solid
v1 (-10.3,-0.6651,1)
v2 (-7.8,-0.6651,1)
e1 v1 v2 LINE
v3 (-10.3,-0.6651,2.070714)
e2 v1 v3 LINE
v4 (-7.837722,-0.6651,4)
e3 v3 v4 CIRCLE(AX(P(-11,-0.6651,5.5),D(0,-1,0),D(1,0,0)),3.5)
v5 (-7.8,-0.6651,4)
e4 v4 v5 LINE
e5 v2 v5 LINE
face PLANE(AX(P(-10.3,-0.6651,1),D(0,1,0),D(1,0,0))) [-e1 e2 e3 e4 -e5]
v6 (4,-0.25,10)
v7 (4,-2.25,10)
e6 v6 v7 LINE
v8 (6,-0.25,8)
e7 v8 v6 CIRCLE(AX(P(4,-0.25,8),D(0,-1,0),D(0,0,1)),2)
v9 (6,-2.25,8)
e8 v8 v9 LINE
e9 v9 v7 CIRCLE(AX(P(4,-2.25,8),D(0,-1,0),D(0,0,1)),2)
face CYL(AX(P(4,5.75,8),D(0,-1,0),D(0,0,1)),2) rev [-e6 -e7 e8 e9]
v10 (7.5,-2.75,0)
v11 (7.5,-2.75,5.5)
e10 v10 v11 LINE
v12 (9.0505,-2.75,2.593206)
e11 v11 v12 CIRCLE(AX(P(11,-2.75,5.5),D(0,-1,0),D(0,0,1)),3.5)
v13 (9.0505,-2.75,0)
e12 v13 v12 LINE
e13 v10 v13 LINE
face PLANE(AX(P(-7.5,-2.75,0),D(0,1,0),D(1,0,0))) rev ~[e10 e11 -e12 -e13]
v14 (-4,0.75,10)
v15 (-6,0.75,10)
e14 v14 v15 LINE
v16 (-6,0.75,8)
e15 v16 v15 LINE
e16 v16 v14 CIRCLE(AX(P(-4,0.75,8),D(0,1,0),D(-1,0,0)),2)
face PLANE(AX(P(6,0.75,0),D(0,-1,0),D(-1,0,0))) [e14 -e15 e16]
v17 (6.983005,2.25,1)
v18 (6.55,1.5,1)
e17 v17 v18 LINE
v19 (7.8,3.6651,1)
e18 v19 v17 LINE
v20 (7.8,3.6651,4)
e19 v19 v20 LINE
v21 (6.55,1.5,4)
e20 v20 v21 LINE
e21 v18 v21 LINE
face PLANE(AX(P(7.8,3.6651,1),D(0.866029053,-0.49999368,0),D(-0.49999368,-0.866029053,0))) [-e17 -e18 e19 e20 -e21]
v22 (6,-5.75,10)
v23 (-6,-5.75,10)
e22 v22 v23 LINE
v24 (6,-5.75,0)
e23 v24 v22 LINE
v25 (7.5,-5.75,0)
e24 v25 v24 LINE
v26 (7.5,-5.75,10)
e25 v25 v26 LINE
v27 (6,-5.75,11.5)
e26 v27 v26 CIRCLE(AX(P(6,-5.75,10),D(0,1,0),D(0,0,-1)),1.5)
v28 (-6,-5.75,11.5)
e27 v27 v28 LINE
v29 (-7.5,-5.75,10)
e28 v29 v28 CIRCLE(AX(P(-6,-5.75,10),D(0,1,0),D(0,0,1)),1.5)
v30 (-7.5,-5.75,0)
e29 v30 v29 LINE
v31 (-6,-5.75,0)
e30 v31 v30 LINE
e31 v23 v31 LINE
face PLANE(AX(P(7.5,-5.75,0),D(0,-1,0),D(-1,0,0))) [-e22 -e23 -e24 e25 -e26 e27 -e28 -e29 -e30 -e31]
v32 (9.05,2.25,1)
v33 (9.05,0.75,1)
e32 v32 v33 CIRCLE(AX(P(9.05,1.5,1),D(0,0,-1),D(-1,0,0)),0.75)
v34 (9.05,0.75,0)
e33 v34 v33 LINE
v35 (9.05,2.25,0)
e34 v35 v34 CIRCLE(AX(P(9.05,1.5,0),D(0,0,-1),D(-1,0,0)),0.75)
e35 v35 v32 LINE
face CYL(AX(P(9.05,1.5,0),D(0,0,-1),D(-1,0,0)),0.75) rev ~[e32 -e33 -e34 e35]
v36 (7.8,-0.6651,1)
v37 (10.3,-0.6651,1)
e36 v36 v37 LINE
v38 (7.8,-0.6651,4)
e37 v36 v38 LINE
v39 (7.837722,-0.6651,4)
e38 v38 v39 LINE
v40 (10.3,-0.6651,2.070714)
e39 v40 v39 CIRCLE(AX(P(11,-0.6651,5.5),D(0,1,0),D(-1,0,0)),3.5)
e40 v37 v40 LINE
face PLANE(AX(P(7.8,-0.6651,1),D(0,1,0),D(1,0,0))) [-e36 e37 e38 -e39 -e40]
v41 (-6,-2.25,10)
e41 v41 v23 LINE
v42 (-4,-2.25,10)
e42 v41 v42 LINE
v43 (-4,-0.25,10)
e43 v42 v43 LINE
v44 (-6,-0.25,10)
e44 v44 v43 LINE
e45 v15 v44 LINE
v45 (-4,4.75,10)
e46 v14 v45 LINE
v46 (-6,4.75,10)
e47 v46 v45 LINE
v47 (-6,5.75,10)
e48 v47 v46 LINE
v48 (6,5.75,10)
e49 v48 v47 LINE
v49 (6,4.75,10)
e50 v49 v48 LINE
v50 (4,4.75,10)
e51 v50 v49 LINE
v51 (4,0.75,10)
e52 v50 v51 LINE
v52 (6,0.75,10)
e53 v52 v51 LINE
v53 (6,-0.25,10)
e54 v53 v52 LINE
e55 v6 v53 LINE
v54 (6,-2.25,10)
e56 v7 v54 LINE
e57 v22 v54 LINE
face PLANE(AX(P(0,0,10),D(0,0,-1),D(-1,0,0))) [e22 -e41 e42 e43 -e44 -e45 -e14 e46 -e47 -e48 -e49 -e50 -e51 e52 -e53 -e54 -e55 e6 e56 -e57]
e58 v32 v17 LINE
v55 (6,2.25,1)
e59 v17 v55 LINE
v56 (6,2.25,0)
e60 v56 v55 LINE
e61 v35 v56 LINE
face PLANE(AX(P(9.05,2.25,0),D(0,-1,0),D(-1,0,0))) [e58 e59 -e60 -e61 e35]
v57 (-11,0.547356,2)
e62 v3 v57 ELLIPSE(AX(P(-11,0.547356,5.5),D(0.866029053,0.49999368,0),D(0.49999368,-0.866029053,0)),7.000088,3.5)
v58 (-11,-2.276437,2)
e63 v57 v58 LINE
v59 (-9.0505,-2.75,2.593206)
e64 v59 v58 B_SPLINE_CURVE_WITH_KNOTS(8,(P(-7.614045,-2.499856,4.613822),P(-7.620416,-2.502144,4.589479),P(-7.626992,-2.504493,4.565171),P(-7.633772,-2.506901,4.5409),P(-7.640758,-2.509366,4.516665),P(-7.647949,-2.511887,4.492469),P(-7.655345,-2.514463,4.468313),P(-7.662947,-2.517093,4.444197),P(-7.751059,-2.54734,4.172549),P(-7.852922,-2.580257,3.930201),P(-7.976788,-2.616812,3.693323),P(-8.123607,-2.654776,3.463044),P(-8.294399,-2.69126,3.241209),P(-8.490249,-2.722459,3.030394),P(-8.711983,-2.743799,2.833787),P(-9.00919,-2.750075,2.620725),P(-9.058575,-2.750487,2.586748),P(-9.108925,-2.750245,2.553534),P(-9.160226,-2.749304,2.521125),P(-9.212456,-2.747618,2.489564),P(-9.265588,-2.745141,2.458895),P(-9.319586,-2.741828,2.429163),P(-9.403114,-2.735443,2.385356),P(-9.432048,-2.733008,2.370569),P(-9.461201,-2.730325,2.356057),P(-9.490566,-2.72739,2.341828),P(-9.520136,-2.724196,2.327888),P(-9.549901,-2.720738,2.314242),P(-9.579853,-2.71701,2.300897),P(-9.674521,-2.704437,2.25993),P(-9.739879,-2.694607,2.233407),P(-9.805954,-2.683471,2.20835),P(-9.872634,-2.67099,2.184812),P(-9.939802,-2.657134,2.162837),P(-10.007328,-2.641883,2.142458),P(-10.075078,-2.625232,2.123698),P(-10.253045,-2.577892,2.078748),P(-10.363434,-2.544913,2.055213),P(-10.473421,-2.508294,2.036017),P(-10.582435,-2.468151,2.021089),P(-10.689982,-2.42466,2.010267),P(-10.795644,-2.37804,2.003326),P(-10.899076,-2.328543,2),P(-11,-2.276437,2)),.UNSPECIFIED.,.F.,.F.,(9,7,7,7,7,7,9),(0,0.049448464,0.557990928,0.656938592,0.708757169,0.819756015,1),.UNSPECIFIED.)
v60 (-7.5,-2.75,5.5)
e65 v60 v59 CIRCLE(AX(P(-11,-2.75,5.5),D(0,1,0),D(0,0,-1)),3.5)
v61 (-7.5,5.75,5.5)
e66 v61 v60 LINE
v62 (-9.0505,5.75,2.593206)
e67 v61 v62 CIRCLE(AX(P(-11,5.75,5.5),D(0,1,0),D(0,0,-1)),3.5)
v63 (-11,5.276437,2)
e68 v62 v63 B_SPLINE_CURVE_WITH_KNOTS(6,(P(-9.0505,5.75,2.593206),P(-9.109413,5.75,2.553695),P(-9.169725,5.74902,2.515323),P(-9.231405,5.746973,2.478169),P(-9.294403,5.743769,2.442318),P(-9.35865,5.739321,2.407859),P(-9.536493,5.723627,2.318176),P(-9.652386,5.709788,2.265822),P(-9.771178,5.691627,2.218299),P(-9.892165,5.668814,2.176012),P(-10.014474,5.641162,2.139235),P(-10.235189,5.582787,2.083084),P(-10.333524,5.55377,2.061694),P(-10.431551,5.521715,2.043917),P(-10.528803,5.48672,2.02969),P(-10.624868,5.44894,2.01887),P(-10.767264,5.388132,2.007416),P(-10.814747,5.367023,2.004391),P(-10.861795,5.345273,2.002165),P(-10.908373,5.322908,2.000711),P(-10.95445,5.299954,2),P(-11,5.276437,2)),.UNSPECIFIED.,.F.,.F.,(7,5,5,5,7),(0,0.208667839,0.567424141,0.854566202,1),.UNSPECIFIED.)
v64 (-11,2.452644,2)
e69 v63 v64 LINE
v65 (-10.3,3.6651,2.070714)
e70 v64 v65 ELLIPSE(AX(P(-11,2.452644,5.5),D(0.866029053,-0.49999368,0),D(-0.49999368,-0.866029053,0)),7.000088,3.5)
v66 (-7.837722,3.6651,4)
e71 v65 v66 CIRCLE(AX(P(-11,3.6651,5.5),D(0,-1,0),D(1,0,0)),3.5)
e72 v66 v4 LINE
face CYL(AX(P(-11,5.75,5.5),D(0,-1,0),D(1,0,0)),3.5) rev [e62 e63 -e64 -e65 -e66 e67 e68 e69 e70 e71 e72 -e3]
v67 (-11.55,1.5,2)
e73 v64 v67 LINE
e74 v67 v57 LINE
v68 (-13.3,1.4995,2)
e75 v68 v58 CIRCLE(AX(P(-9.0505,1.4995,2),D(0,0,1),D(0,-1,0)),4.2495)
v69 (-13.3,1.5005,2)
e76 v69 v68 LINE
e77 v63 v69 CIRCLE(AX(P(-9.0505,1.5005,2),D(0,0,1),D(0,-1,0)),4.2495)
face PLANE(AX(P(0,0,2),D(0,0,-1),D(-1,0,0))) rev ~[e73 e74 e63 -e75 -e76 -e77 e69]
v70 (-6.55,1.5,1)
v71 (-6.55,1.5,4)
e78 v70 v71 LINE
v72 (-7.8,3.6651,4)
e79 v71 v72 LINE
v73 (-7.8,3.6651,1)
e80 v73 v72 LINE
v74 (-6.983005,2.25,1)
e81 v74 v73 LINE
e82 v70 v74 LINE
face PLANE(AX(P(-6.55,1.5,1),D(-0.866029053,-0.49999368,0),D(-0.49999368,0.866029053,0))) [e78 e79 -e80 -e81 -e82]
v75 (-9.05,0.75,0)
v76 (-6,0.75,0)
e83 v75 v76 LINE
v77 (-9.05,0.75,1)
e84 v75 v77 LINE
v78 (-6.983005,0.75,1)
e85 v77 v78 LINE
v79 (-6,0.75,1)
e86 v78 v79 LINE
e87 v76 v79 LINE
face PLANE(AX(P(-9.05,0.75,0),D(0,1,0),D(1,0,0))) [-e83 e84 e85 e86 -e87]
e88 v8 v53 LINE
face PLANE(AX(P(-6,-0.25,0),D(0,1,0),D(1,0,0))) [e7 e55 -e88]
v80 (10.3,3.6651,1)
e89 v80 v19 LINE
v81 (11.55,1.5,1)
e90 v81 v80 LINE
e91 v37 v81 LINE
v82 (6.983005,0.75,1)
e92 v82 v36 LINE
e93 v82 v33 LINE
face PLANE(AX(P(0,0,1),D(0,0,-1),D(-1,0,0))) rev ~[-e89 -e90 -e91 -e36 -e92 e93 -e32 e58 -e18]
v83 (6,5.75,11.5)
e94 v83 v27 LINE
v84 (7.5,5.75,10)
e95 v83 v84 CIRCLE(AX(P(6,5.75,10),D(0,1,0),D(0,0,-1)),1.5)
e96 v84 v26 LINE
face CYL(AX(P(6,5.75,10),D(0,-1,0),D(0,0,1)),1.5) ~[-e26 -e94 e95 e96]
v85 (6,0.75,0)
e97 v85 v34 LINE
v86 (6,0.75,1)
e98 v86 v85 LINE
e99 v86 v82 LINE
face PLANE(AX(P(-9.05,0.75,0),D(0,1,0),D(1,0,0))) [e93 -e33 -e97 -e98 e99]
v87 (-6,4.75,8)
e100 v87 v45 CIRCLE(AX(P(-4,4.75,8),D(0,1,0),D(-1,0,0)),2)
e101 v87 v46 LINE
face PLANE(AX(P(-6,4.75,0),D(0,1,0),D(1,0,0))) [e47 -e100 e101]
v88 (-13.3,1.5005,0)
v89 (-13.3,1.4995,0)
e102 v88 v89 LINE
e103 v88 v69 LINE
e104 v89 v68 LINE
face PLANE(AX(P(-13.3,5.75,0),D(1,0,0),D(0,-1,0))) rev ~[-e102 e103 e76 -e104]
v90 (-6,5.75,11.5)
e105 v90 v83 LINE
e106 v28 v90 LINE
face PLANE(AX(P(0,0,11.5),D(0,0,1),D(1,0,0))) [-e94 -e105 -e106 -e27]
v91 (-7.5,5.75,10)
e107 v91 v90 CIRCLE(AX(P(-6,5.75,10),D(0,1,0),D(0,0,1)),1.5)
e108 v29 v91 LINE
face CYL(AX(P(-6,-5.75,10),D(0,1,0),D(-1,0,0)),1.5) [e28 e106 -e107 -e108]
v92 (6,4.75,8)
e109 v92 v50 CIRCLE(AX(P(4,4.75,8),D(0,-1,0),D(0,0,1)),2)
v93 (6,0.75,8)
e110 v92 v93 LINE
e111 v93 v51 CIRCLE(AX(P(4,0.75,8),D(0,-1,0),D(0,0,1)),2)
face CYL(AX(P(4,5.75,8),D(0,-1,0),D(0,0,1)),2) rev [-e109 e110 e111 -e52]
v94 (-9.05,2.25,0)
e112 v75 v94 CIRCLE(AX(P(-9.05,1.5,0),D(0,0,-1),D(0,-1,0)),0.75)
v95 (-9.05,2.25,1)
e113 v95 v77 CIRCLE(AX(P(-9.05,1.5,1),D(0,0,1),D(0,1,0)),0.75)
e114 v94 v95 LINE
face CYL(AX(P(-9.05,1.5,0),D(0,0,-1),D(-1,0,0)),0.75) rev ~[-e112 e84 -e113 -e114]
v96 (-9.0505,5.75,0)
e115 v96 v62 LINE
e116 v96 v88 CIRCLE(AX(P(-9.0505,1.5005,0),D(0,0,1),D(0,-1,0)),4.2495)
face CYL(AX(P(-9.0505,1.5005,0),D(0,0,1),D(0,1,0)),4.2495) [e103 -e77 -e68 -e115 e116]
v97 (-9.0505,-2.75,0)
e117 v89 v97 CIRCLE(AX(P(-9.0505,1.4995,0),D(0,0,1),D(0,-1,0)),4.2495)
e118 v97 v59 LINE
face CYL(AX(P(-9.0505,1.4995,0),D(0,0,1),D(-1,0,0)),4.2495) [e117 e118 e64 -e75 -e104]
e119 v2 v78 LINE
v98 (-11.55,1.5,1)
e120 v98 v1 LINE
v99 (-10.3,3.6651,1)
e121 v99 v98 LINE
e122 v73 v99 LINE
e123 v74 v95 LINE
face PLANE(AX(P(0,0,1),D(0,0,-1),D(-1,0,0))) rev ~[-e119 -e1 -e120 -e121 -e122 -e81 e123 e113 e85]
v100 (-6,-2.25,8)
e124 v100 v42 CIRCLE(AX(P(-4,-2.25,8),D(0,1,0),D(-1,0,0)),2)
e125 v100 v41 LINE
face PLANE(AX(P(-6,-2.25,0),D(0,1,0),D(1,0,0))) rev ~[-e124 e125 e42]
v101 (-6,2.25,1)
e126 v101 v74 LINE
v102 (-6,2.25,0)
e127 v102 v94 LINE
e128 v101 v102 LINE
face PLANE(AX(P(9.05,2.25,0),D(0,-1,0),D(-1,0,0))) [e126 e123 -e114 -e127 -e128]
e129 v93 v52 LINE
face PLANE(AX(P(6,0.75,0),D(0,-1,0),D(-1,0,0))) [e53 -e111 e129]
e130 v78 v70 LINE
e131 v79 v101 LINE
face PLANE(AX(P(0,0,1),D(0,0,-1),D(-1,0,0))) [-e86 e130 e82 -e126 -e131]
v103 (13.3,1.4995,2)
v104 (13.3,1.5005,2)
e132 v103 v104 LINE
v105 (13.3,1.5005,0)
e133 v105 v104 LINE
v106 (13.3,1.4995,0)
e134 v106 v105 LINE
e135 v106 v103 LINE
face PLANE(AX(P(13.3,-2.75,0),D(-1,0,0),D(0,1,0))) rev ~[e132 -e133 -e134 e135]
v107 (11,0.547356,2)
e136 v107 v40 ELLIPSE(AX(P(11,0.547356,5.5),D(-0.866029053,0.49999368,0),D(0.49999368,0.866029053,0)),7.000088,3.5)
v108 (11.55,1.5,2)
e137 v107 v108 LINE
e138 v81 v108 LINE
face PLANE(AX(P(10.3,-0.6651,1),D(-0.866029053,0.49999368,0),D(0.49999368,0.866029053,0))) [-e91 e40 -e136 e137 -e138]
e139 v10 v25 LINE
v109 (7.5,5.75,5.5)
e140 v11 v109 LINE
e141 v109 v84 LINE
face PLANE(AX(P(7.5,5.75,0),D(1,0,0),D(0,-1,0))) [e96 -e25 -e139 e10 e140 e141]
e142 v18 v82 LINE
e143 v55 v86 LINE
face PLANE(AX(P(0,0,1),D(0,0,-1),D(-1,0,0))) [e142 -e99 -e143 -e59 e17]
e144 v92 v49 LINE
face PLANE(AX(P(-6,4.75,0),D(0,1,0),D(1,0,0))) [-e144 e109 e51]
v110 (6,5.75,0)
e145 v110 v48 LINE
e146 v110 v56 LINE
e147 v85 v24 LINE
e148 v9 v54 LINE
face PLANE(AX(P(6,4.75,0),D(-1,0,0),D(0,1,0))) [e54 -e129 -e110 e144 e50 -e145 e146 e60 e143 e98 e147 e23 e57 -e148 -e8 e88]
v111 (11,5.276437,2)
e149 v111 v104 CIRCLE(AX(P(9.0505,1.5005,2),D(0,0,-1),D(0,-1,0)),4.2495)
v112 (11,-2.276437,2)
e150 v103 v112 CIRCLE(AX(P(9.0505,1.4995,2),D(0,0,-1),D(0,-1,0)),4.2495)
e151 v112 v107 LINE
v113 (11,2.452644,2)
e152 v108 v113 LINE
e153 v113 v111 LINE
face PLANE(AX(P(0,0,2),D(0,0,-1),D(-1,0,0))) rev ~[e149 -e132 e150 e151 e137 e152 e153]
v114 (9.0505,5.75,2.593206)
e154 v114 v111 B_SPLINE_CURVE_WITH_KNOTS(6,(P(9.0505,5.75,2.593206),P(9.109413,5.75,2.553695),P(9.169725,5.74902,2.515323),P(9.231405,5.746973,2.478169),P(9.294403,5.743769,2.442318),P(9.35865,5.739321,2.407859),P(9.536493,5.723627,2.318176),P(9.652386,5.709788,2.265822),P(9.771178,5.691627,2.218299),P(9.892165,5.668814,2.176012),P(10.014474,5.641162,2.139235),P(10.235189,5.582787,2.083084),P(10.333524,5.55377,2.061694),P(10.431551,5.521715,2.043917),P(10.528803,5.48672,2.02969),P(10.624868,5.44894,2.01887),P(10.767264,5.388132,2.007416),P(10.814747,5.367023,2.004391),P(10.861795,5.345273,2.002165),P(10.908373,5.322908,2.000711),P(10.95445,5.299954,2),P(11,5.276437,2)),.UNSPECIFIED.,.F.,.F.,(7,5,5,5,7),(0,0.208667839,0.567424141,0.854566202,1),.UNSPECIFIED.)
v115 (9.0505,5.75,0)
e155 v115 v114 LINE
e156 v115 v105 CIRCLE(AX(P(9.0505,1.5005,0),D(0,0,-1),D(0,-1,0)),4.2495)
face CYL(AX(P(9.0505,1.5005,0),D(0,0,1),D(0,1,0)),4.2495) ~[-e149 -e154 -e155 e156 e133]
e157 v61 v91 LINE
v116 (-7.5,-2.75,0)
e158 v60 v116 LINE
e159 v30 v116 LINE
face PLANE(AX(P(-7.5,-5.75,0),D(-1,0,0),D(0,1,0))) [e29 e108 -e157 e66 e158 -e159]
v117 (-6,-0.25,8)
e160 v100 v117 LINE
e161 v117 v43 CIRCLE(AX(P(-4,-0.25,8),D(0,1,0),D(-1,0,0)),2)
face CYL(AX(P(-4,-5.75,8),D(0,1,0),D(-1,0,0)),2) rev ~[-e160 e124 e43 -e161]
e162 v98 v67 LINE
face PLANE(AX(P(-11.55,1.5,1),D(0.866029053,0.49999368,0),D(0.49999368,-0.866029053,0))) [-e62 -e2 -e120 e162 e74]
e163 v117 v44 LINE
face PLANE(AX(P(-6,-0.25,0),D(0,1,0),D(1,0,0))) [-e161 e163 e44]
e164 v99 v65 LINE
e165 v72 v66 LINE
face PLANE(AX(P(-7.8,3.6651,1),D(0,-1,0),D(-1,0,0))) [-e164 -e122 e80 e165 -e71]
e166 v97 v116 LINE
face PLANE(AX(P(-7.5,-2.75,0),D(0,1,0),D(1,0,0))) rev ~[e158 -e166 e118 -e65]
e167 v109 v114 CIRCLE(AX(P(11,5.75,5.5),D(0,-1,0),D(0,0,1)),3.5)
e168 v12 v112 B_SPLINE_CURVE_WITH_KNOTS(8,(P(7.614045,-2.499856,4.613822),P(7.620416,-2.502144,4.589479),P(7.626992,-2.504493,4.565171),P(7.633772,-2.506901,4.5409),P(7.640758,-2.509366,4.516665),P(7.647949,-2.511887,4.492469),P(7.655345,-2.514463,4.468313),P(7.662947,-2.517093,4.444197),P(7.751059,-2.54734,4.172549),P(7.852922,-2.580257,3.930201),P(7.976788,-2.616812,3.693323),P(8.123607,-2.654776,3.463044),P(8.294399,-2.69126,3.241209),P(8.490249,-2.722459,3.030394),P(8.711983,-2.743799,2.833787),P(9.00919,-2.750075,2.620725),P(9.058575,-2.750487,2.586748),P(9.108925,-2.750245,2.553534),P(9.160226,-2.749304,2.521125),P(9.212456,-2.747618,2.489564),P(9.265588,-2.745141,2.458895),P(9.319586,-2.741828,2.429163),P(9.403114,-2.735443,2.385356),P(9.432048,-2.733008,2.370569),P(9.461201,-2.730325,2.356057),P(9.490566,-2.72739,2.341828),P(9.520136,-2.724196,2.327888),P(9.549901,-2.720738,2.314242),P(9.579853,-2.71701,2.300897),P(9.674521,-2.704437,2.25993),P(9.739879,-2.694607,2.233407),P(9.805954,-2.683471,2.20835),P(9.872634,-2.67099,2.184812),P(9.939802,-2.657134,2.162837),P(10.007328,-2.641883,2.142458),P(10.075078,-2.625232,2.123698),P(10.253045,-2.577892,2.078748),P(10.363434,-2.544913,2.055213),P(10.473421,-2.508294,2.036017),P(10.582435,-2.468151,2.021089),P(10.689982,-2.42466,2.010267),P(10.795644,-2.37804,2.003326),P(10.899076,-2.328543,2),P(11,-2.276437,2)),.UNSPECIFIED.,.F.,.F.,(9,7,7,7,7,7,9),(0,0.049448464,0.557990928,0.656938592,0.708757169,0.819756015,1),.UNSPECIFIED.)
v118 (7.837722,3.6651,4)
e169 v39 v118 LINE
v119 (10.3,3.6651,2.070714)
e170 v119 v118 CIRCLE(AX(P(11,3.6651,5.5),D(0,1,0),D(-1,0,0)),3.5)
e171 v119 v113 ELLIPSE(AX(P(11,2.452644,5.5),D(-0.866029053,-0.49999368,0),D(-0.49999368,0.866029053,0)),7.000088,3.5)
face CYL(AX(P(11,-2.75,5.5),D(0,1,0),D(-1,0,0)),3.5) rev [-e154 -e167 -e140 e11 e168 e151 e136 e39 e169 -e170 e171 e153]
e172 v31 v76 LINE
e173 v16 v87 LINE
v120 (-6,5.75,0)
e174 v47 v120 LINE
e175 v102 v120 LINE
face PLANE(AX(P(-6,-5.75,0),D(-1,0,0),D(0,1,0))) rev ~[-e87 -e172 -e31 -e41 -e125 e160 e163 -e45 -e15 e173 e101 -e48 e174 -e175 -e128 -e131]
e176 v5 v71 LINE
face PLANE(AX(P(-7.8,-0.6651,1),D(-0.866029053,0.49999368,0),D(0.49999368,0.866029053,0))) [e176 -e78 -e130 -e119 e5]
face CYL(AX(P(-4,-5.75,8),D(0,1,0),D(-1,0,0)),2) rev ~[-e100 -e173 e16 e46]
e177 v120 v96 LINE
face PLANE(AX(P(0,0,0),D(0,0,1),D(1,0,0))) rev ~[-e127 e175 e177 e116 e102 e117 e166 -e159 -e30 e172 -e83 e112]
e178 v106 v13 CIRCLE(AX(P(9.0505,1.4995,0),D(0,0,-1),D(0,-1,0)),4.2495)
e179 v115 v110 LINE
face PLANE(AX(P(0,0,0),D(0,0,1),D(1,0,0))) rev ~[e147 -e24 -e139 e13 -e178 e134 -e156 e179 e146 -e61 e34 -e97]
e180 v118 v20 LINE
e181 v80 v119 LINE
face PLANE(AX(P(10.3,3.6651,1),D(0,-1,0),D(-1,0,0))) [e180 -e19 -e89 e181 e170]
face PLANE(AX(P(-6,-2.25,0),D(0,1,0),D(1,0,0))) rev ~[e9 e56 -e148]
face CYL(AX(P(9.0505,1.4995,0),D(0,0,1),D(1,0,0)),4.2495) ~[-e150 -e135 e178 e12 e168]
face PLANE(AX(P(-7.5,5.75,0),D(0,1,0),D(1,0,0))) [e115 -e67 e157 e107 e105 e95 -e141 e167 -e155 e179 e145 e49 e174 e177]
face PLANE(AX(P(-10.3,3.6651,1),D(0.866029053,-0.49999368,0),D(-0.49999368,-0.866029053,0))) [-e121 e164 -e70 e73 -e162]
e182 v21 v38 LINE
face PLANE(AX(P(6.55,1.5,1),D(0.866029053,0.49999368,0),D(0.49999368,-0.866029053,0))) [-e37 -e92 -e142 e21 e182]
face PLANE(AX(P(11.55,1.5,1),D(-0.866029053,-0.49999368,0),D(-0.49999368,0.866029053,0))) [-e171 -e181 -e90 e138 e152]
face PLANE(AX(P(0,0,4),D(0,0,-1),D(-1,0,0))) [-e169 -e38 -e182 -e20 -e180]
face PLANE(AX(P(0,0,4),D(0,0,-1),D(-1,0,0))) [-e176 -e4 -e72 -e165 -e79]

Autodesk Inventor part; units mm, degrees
ref_plane "YZ Plane" through (0, 0, 0) normal (1, 0, 0) x (0, 1, 0)
ref_plane "XZ Plane" through (0, 0, 0) normal (0, 1, 0) x (-1, 0, 0)
sketch "Szkic1" plane through (0, 0, 0) normal (0, 0, 1) x (1, 0, 0)
  line L0 (-7.5, 5.75) -> (7.5, 5.75)
  line L1 (7.5, 5.75) -> (7.5, -5.75)
  line L2 (7.5, -5.75) -> (-7.5, -5.75)
  line L3 (-7.5, -5.75) -> (-7.5, 5.75)
  point P0 (0, 0)
  point P1 (0, 5.75)
  point P2 (-7.5, 0)
  dimension "d0" = 15
  dimension "d1" = 11.5
extrude "Wyciągnięcie proste1" add sketch "Szkic1" along normal blind 11.5
sketch "Szkic2" plane through (0, 0, 0) normal (0, 0, -1) x (-1, 0, 0)
  line L0 (7.5, 5.75) -> (-7.5, 5.75) projected
  line L1 (-7.5, 5.75) -> (-7.5, -5.75) projected
  line L2 (7.5, -5.75) -> (7.5, 5.75) projected
  line L3 (-13.3, 5.75) -> (13.3, 5.75)
  line L4 (13.3, 5.75) -> (13.3, -2.75)
  line L5 (13.3, -2.75) -> (-13.3, -2.75)
  line L6 (-13.3, -2.75) -> (-13.3, 5.75)
  point P0 (0, 0)
  dimension "d4" = 8.5
  dimension "d5" = 5.8
  dimension "d6" = 5.8
extrude "Wyciągnięcie proste2" add sketch "Szkic2" against normal blind 2
fillet "Zaokrąglenie1" radius 4.25 4 edges at (-13.3, -2.75, 1) (-13.3, 5.75, 1) (13.3, -2.75, 1) (13.3, 5.75, 1)
fillet "Zaokrąglenie2" radius 1.5 2 edges at (-7.5, 0, 11.5) (7.5, 0, 11.5)
fillet "Zaokrąglenie3" radius 3.5 2 edges at (-7.5, 1.5, 2) (7.5, 1.5, 2)
ref_plane "Płaszczyzna konstrukcyjna1" through (0, 0, 1) normal (0, 0, -1) x (-1, 0, 0)
sketch "Szkic3" plane through (0, 0, 1) normal (0, 0, -1) x (-1, 0, 0)
  arc A0 (-9.05, 5.75) -> (-9.05, -2.75) centre (-9.05, 1.5) ccw projected
  arc A1 (9.05, -2.75) -> (9.05, 5.75) centre (9.05, 1.5) ccw projected
  line L0 (-6.55, 1.5) -> (-7.8, -0.6651)
  line L1 (-7.8, -0.6651) -> (-10.3, -0.6651)
  line L2 (-10.3, -0.6651) -> (-11.55, 1.5)
  line L3 (-11.55, 1.5) -> (-10.3, 3.6651)
  line L4 (-10.3, 3.6651) -> (-7.8, 3.6651)
  line L5 (-7.8, 3.6651) -> (-6.55, 1.5)
  line L6 (6.55, 1.5) -> (7.8, 3.6651)
  line L7 (7.8, 3.6651) -> (10.3, 3.6651)
  line L8 (10.3, 3.6651) -> (11.55, 1.5)
  line L9 (11.55, 1.5) -> (10.3, -0.6651)
  line L10 (10.3, -0.6651) -> (7.8, -0.6651)
  line L11 (7.8, -0.6651) -> (6.55, 1.5)
  point P0 (0, 0)
  dimension "d13" = 2.5
  dimension "d14" = 18.1
extrude "Wyciągnięcie proste3" cut sketch "Szkic3" against normal blind 3
sketch "Szkic4" plane through (0, 0, 0) normal (0, 0, -1) x (-1, 0, 0)
  arc A0 (-9.05, 5.75) -> (-9.05, -2.75) centre (-9.05, 1.5) ccw projected
  arc A1 (9.05, -2.75) -> (9.05, 5.75) centre (9.05, 1.5) ccw projected
  circle A2 centre (-9.05, 1.5) radius 0.75
  circle A3 centre (9.05, 1.5) radius 0.75
  line L0 (-9.05, 2.25) -> (9.05, 2.25)
  line L1 (9.05, 0.75) -> (-9.05, 0.75)
  point P0 (0, 0)
  dimension "d17" = 1.5
extrude "Wyciągnięcie proste4" cut sketch "Szkic4" against normal blind 1
sketch "Szkic5" plane through (0, 0, 0) normal (0, 0, -1) x (-1, 0, 0)
  line L0 (-7.5, -5.75) -> (7.5, -5.75) projected
  line L1 (9.05, 5.75) -> (-9.05, 5.75) projected
  line L2 (-6, -5.75) -> (6, -5.75)
  line L3 (6, -5.75) -> (6, 5.75)
  line L4 (6, 5.75) -> (-6, 5.75)
  line L5 (-6, 5.75) -> (-6, -5.75)
  point P0 (0, 0)
  point P1 (0, 5.75)
  dimension "d20" = 12
extrude "Wyciągnięcie proste5" cut sketch "Szkic5" against normal blind 10
fillet "Zaokrąglenie4" radius 2 2 edges at (6, 0, 10) (-6, 0, 10)
sketch "Szkic7" plane through (0, 0, 0) normal (0, 0, -1) x (-1, 0, 0)
  line L0 (6, 5.75) -> (6, 2.25) projected
  line L1 (6, 0.75) -> (6, -5.75) projected
  line L2 (-6, 0.75) -> (-6, 2.25) projected
  line L3 (-6, 2.25) -> (-6, 5.75) projected
  line L4 (-6, -5.75) -> (-6, 0.75) projected
  line L5 (6, 2.25) -> (6, 0.75) projected
  line L6 (-6, 5.75) -> (6, 5.75)
  line L7 (6, 5.75) -> (6, 4.75)
  line L8 (6, 4.75) -> (-6, 4.75)
  line L9 (-6, 4.75) -> (-6, 5.75)
  line L10 (-6, 0.75) -> (6, 0.75)
  line L11 (6, 0.75) -> (6, -0.25)
  line L12 (6, -0.25) -> (-6, -0.25)
  line L13 (-6, -0.25) -> (-6, 0.75)
  line L14 (-6, -5.75) -> (6, -5.75)
  line L15 (6, -5.75) -> (6, -2.25)
  line L16 (6, -2.25) -> (-6, -2.25)
  line L17 (-6, -2.25) -> (-6, -5.75)
  point P0 (0, 0)
  dimension "d29" = 1
  dimension "d30" = 1
  dimension "d31" = 4
  dimension "d32" = 2
extrude "Wyciągnięcie proste7" cut sketch "Szkic7" against normal blind 10 contours L0 L8 L3 L6 | L1 L12 L4 L10 | L1 L14 L4 L16
equation "\"d6\" = d5"
properties part number "Mounting_bracket" material "ABS Plastic"
